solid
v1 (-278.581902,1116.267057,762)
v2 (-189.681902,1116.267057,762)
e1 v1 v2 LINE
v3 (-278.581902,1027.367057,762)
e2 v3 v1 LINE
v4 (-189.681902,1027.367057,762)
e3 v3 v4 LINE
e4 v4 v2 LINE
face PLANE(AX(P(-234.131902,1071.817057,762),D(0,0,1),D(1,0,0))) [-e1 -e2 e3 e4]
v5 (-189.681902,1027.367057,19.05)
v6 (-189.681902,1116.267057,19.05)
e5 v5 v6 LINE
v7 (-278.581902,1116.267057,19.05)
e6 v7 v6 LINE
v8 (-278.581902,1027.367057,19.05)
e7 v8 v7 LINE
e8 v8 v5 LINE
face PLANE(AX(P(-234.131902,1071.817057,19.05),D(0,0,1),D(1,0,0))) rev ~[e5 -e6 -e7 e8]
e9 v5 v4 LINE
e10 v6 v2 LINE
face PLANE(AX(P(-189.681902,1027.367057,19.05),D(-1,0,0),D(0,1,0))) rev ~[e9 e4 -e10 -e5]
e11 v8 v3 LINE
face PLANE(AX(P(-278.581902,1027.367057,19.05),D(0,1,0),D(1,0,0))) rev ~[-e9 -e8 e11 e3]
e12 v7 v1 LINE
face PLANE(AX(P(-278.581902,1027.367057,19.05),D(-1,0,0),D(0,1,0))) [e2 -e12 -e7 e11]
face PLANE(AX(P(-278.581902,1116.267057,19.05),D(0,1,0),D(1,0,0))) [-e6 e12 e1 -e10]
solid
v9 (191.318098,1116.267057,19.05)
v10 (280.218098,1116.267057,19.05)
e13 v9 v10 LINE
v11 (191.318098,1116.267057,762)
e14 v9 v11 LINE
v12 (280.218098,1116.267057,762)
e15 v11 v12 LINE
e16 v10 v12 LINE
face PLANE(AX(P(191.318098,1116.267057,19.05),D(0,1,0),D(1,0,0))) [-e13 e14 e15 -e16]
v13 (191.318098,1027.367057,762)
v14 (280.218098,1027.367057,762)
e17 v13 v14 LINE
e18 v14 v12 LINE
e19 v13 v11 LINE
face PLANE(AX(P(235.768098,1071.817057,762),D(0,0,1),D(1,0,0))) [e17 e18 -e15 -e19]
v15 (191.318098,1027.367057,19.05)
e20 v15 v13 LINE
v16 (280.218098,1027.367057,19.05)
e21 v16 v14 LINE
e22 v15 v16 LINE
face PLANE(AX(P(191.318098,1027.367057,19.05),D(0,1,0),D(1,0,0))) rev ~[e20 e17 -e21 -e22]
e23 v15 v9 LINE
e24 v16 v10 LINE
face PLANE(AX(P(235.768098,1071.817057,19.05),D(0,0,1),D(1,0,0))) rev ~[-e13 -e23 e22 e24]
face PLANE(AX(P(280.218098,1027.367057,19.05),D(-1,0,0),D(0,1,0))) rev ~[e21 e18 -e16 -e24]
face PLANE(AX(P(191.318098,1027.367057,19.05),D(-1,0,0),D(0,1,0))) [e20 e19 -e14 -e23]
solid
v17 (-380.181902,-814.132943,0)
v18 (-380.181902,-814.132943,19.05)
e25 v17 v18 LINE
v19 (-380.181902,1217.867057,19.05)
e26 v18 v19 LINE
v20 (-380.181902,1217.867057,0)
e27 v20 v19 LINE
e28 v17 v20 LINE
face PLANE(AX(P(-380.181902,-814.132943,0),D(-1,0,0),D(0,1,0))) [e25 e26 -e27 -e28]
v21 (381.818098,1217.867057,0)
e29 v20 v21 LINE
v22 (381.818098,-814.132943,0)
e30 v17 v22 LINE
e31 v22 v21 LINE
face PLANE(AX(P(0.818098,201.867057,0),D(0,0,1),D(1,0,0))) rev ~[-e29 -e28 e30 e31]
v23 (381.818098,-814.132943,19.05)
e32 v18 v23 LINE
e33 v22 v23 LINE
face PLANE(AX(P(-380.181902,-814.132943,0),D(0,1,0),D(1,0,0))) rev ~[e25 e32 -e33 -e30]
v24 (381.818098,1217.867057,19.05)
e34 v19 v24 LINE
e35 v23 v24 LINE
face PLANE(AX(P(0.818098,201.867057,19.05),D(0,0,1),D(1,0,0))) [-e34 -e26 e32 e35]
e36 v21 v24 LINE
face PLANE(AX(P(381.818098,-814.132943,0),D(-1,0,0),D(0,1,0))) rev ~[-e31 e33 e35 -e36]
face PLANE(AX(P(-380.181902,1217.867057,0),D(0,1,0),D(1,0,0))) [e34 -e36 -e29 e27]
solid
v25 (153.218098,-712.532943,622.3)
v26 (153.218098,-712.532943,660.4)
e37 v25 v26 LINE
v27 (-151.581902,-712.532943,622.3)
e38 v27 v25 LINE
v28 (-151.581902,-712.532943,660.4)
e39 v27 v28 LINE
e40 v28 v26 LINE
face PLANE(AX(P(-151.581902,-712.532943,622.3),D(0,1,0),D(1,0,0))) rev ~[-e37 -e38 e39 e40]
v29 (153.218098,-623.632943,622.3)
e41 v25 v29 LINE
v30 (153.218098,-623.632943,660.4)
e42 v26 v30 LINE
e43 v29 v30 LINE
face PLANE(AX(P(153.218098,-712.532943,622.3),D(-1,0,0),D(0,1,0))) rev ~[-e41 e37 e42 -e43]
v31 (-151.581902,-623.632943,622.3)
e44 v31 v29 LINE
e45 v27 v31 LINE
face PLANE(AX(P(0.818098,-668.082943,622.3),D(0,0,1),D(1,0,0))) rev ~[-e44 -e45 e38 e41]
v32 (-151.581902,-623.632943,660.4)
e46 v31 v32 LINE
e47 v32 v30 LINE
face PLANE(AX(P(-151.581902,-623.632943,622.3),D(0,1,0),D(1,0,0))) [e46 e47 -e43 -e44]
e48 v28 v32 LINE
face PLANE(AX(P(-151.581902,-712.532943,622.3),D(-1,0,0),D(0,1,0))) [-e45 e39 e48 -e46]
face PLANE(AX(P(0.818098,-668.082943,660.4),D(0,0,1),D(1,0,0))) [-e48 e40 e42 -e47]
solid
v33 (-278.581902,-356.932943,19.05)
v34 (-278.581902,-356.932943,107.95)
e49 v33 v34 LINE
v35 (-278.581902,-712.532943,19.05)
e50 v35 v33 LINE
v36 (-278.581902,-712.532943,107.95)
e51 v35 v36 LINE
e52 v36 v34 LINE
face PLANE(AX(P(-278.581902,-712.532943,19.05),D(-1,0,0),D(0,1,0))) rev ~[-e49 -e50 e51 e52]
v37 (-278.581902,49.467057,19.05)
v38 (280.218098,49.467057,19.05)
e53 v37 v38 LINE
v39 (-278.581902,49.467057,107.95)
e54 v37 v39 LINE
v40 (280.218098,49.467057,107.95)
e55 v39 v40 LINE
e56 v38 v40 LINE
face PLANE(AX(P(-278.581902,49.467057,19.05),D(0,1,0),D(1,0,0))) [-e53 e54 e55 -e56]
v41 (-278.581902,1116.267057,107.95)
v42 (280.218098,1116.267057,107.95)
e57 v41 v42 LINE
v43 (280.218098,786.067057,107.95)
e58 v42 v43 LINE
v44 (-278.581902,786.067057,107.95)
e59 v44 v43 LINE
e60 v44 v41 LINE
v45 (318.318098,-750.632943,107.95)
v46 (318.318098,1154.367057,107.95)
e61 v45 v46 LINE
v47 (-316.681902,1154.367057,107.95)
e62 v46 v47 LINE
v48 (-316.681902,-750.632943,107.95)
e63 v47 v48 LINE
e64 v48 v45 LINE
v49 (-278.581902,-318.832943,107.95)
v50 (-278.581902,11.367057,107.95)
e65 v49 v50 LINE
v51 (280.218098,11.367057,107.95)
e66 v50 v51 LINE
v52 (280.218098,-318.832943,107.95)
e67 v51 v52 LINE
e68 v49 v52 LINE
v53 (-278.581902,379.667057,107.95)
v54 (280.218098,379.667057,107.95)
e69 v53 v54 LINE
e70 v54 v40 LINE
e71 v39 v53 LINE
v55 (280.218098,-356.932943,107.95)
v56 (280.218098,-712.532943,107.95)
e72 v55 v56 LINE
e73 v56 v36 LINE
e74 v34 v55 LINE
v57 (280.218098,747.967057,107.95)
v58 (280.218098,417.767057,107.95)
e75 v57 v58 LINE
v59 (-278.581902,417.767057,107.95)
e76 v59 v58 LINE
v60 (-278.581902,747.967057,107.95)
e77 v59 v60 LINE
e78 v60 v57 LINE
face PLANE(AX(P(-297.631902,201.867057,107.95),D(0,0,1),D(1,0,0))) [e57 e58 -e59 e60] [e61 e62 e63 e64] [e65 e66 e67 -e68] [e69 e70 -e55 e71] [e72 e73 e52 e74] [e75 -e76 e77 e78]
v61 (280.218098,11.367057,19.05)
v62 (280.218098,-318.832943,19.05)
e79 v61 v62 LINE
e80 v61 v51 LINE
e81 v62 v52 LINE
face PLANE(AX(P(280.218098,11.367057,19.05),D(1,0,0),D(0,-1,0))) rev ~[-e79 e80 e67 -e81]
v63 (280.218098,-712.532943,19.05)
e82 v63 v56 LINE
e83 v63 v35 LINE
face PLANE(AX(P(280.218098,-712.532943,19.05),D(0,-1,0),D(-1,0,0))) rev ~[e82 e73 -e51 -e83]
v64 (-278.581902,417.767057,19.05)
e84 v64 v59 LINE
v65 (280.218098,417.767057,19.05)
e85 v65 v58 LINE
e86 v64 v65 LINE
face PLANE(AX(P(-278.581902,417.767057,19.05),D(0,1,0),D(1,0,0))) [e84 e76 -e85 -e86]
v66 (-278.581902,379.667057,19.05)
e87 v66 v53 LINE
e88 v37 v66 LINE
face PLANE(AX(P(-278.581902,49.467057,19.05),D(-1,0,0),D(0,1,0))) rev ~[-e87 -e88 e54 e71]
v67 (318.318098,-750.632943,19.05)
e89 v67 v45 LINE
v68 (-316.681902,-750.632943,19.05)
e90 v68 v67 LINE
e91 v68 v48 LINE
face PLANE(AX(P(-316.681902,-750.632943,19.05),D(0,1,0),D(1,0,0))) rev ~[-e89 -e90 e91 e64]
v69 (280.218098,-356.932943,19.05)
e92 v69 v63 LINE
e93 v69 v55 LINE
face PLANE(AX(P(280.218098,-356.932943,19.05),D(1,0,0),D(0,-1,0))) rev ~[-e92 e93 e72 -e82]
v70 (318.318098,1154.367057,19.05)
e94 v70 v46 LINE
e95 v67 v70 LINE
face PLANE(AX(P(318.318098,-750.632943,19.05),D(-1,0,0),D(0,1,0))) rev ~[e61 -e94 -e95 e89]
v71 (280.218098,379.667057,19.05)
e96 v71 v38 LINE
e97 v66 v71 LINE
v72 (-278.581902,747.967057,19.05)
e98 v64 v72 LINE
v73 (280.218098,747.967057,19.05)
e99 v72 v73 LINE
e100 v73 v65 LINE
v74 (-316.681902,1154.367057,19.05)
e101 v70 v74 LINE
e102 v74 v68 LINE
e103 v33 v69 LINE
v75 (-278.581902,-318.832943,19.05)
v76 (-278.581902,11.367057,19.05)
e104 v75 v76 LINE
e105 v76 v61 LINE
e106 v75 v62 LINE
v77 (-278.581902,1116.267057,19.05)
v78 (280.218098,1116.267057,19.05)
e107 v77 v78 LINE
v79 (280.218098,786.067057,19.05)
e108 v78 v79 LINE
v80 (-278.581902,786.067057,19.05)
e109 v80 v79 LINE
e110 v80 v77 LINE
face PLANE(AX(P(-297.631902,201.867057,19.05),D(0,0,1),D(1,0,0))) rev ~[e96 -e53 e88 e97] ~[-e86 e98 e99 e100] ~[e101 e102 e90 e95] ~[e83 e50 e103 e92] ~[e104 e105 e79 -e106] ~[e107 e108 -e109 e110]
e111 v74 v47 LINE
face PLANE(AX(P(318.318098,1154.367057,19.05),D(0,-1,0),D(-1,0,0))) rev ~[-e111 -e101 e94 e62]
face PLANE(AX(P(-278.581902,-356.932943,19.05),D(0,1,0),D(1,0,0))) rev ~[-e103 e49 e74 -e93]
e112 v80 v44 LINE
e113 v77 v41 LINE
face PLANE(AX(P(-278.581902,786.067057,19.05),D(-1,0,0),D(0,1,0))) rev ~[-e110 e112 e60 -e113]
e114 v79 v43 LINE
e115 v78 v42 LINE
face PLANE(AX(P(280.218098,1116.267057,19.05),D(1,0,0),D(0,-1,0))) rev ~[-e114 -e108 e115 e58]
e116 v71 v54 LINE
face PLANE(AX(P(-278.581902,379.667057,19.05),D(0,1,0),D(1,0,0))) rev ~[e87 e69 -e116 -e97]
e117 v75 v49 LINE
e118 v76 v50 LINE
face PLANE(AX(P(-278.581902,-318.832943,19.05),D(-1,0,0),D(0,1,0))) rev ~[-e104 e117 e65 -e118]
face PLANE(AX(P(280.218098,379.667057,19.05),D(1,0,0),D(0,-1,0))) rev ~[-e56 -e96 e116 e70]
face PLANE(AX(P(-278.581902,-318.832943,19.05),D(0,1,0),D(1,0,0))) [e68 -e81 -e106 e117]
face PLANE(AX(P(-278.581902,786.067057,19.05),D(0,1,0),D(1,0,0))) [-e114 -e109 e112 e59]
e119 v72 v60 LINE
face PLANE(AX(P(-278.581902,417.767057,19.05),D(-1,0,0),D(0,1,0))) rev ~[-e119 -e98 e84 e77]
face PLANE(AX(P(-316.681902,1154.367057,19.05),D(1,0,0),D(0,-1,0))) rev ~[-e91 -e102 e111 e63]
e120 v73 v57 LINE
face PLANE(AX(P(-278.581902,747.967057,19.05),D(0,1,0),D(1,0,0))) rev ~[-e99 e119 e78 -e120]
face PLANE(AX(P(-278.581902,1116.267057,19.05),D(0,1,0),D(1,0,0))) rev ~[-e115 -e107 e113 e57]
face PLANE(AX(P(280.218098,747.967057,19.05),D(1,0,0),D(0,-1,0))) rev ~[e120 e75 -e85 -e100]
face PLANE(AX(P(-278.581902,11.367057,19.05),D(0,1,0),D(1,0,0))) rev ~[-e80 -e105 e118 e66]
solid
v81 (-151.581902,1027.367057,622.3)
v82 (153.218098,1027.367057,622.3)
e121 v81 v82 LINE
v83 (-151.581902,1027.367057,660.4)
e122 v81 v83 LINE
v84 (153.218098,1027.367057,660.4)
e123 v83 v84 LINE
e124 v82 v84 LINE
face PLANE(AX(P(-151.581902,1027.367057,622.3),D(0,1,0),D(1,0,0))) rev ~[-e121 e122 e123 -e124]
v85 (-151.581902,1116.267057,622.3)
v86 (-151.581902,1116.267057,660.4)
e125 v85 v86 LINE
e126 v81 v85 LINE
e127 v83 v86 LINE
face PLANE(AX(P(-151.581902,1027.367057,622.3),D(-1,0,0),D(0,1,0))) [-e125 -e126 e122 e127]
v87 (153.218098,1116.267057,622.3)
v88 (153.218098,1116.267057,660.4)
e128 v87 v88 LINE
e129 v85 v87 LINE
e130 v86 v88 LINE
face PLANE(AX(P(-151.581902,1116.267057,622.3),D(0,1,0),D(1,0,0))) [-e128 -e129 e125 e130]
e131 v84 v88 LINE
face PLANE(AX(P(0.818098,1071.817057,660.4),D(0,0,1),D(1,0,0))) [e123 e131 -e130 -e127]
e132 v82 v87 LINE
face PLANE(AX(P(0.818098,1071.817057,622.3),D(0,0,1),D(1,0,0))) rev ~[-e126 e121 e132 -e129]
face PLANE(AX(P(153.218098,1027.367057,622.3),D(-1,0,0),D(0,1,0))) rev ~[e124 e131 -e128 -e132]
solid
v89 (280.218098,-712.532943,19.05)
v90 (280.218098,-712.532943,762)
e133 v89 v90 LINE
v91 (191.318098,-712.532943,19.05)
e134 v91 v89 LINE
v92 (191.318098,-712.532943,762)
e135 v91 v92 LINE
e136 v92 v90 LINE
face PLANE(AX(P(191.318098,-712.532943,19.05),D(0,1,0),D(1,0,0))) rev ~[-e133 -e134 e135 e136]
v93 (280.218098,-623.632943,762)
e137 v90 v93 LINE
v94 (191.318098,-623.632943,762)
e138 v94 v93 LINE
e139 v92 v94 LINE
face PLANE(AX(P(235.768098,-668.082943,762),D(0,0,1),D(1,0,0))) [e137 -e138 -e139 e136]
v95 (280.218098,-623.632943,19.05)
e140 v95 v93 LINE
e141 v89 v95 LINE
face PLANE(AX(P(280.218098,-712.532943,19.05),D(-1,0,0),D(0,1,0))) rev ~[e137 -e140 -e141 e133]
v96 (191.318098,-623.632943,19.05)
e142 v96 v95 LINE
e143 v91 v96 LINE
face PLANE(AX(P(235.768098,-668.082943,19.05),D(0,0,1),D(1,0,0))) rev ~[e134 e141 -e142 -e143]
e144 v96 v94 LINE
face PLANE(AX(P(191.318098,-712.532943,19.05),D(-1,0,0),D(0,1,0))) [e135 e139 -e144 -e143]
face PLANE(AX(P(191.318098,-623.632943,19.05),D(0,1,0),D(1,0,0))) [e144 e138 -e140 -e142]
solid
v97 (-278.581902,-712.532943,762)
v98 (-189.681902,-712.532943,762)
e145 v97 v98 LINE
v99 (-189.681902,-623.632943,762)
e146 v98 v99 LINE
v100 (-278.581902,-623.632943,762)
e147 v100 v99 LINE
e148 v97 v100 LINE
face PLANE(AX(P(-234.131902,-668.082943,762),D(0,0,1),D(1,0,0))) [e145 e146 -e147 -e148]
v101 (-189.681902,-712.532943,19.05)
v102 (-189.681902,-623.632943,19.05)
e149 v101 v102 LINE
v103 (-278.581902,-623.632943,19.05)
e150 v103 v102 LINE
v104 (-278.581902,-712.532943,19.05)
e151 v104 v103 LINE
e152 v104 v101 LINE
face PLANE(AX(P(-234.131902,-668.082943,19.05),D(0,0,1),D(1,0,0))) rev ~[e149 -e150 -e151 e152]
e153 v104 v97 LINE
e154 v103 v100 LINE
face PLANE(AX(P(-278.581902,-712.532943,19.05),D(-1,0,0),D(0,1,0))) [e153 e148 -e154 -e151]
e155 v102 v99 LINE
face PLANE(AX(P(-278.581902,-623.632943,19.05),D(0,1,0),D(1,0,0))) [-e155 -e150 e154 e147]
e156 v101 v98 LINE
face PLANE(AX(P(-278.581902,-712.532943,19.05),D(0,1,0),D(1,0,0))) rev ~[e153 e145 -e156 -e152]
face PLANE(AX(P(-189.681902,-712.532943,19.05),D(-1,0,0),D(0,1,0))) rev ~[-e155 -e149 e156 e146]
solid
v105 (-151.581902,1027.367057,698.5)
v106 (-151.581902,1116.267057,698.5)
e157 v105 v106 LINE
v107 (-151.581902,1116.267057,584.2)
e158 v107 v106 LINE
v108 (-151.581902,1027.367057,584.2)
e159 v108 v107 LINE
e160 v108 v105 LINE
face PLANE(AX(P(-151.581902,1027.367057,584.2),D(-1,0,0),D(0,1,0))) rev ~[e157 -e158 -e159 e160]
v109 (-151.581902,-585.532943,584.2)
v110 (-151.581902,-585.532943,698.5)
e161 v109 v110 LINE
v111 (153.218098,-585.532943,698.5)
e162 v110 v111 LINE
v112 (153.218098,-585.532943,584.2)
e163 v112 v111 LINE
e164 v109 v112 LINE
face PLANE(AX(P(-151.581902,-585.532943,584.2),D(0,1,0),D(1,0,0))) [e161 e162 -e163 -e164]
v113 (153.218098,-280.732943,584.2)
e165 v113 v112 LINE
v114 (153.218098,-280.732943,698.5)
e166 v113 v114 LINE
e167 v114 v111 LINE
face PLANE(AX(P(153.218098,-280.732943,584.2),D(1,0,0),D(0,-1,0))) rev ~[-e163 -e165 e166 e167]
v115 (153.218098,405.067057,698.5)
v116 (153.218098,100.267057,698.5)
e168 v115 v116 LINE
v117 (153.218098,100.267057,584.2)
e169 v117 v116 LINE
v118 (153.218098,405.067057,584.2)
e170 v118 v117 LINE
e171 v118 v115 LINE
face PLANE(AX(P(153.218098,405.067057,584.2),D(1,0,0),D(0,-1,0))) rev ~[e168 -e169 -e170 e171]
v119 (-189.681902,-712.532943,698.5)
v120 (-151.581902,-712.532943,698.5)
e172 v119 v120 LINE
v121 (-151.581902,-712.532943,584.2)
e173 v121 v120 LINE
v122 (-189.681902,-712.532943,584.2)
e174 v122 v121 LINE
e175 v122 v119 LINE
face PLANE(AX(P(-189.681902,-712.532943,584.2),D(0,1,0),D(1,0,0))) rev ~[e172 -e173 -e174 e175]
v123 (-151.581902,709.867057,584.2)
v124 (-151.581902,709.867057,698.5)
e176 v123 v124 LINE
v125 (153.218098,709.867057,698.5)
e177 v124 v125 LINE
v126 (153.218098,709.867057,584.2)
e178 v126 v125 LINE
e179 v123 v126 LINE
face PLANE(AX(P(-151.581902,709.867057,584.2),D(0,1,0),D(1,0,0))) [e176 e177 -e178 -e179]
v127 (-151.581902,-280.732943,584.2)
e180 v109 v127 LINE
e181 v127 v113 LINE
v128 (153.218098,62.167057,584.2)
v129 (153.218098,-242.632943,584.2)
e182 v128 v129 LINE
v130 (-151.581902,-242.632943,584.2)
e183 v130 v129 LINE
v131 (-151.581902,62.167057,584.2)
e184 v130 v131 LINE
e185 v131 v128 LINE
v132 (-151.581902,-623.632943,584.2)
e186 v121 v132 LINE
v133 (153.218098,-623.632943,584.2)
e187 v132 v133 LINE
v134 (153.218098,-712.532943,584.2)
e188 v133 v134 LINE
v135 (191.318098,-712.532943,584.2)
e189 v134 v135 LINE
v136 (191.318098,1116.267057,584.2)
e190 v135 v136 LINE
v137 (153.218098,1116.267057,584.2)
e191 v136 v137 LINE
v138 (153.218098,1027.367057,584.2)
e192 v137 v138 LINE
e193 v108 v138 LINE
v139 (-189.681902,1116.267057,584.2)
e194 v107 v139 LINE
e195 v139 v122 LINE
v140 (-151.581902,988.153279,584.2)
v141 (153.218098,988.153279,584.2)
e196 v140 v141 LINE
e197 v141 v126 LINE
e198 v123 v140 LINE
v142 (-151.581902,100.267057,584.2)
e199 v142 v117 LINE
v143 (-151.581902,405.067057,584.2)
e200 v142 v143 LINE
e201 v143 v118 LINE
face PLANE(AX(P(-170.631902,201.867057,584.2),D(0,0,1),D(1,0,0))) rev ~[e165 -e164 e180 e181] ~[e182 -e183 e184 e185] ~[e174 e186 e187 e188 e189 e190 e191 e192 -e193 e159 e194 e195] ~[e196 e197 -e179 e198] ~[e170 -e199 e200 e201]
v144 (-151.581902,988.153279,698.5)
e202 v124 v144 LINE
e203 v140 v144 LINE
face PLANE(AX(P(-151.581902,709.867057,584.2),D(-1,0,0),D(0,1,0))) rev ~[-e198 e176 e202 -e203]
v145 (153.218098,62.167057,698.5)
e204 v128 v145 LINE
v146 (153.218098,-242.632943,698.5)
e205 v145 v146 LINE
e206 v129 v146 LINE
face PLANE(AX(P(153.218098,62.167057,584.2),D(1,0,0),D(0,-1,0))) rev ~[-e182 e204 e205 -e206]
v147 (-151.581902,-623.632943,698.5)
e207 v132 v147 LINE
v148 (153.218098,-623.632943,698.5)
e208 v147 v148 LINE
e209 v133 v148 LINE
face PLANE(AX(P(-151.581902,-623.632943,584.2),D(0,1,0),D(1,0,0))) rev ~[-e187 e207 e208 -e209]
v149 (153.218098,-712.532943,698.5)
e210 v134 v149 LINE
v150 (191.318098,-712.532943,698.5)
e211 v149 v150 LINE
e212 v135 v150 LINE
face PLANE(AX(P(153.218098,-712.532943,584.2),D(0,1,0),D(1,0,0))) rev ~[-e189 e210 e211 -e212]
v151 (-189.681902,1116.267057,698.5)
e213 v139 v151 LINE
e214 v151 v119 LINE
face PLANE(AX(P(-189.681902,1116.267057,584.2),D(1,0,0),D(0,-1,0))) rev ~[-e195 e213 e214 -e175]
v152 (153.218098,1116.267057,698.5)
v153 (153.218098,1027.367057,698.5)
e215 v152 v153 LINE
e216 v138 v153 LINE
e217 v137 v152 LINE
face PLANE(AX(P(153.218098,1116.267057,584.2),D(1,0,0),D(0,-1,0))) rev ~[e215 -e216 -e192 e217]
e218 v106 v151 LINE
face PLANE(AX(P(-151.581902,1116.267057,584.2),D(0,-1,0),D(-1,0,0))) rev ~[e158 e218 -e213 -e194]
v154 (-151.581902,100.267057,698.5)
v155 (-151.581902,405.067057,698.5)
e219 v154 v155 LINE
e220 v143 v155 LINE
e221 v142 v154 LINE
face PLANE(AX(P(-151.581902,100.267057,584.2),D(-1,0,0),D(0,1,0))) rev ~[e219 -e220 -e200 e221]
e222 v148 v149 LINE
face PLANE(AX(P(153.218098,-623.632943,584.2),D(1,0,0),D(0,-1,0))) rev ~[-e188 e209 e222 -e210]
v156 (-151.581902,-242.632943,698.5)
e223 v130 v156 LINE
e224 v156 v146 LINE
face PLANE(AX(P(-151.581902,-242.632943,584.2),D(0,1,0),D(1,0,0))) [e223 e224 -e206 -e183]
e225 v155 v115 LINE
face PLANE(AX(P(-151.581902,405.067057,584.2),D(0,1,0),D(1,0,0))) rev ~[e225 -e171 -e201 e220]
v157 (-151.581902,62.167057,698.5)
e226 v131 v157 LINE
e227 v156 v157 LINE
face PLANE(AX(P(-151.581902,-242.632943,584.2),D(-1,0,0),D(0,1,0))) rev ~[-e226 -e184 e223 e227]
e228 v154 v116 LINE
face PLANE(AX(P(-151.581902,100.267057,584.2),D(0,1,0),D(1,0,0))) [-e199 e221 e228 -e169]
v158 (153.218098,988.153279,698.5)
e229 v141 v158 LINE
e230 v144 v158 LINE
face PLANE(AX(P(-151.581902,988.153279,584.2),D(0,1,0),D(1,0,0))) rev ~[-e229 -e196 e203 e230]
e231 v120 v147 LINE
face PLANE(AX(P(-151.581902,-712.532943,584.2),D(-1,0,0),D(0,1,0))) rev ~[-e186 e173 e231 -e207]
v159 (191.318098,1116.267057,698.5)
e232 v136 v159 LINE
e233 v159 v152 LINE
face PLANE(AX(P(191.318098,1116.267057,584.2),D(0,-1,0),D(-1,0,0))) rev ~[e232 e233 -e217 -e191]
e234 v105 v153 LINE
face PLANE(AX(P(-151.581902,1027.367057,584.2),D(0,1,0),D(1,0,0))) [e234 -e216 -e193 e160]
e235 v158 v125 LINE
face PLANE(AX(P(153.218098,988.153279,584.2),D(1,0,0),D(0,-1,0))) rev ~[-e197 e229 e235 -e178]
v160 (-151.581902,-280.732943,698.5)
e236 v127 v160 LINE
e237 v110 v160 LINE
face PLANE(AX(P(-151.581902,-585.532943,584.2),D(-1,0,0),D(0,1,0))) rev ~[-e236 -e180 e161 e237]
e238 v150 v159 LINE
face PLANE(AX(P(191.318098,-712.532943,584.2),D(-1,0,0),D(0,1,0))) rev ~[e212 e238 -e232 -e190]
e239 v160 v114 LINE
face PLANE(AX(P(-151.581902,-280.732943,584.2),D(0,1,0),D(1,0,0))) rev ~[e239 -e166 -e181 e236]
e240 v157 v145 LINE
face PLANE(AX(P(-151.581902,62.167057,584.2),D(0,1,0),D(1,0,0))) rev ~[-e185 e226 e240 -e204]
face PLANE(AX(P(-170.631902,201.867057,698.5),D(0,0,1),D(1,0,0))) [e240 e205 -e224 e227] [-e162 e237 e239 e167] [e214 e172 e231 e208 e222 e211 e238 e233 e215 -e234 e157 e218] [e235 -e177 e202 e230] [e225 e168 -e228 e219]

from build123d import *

# Parameters (mm, degrees)
F3_START = 584.2
F2_W     = 304.8
F2_H     = 39.2137783545
F2_H_2   = 266.7
F2_H_3   = 38.1
F3_DEPTH = 114.3
F0_W     = 762
F0_H     = 2032
F4_DEPTH = 19.05
F5_START = 19.05
F1_W     = 558.8
F1_H     = 38.1
F5_DEPTH = 88.9
F6_START = 19.05
F1_W_2   = 88.9
F1_H_2   = 88.9
F6_DEPTH = 742.95
F7_START = 622.3
F2_H_4   = 88.9
F7_DEPTH = 38.1


with BuildPart() as f3:
    # F2 (on face) → F3 (new body)
    with BuildSketch(Plane.XY.offset(F3_START)):
        Polygon((-151.5819020361, 1116.2670571821), (-189.6819020361, 1116.2670571821), (-189.6819020361, -712.5329428179), (-151.5819020361, -712.5329428179), (-151.5819020361, -623.6329428179), (-151.5819020361, -585.5329428179), (-151.5819020361, -280.7329428179), (-151.5819020361, -242.6329428179), (-151.5819020361, 62.1670571821), (-151.5819020361, 100.2670571821), (-151.5819020361, 405.0670571821), (-151.5819020361, 443.1670571821), (-151.5819020361, 709.8670571821), (-151.5819020361, 747.9670571821), (-151.5819020361, 988.1532788277), (-151.5819020361, 1027.3670571821), align=None)
        with Locations((0.8180979639, 1007.7601680049)):
            Rectangle(F2_W, F2_H)
        Polygon((191.3180979639, 1116.2670571821), (153.2180979639, 1116.2670571821), (153.2180979639, 1027.3670571821), (153.2180979639, 988.1532788277), (153.2180979639, 747.9670571821), (153.2180979639, 709.8670571821), (153.2180979639, 443.1670571821), (153.2180979639, 405.0670571821), (153.2180979639, 100.2670571821), (153.2180979639, 62.1670571821), (153.2180979639, -242.6329428179), (153.2180979639, -280.7329428179), (153.2180979639, -585.5329428179), (153.2180979639, -623.6329428179), (153.2180979639, -712.5329428179), (191.3180979639, -712.5329428179), align=None)
        with Locations((0.8180979639, 576.5170571821)):
            Rectangle(F2_W, F2_H_2)
        with Locations((0.8180979639, 424.1170571821)):
            Rectangle(F2_W, F2_H_3)
        with Locations((0.8180979639, 81.2170571821)):
            Rectangle(F2_W, F2_H_3)
        with Locations((0.8180979639, -261.6829428179)):
            Rectangle(F2_W, F2_H_3)
        with Locations((0.8180979639, -604.5829428179)):
            Rectangle(F2_W, F2_H_3)
    extrude(amount=F3_DEPTH)


with BuildPart() as f4:
    # F0 (on Top) → F4 (new body)
    with BuildSketch(Plane.XY):
        with Locations((0.8180979639, 201.8670571821)):
            Rectangle(F0_W, F0_H)
    extrude(amount=F4_DEPTH)


with BuildPart() as f5:
    # F1 (on face) → F5 (new body)
    with BuildSketch(Plane.XY.offset(F5_START)):
        Polygon((-278.5819020361, -750.6329428179), (-278.5819020361, -712.5329428179), (-278.5819020361, -623.6329428179), (-278.5819020361, -356.9329428179), (-278.5819020361, -318.8329428179), (-278.5819020361, 11.3670571821), (-278.5819020361, 49.4670571821), (-278.5819020361, 379.6670571821), (-278.5819020361, 417.7670571821), (-278.5819020361, 747.9670571821), (-278.5819020361, 786.0670571821), (-278.5819020361, 1027.3670571821), (-278.5819020361, 1116.2670571821), (-278.5819020361, 1154.3670571821), (-316.6819020361, 1154.3670571821), (-316.6819020361, -750.6329428179), align=None)
        Polygon((-189.6819020361, -712.5329428179), (-278.5819020361, -712.5329428179), (-278.5819020361, -750.6329428179), (280.2180979639, -750.6329428179), (280.2180979639, -712.5329428179), (191.3180979639, -712.5329428179), align=None)
        Polygon((280.2180979639, -712.5329428179), (280.2180979639, -750.6329428179), (318.3180979639, -750.6329428179), (318.3180979639, 1154.3670571821), (280.2180979639, 1154.3670571821), (280.2180979639, 1116.2670571821), (280.2180979639, 1027.3670571821), (280.2180979639, 786.0670571821), (280.2180979639, 747.9670571821), (280.2180979639, 417.7670571821), (280.2180979639, 379.6670571821), (280.2180979639, 49.4670571821), (280.2180979639, 11.3670571821), (280.2180979639, -318.8329428179), (280.2180979639, -356.9329428179), (280.2180979639, -623.6329428179), align=None)
        with Locations((0.8180979639, -337.8829428179)):
            Rectangle(F1_W, F1_H)
        with Locations((0.8180979639, 30.4170571821)):
            Rectangle(F1_W, F1_H)
        with Locations((0.8180979639, 398.7170571821)):
            Rectangle(F1_W, F1_H)
        with Locations((0.8180979639, 767.0170571821)):
            Rectangle(F1_W, F1_H)
        Polygon((280.2180979639, 1154.3670571821), (-278.5819020361, 1154.3670571821), (-278.5819020361, 1116.2670571821), (-189.6819020361, 1116.2670571821), (191.3180979639, 1116.2670571821), (280.2180979639, 1116.2670571821), align=None)
    extrude(amount=F5_DEPTH)


with BuildPart() as f6:
    # F1 (on face) → F6 (new body)
    with BuildSketch(Plane.XY.offset(F6_START)):
        with Locations((-234.1319020361, -668.0829428179)):
            Rectangle(F1_W_2, F1_H_2)
    extrude(amount=F6_DEPTH)


with BuildPart() as f6b:
    # F1 (on face) → F6, piece 2 (new body)
    with BuildSketch(Plane.XY.offset(F6_START)):
        with Locations((235.7680979639, -668.0829428179)):
            Rectangle(F1_W_2, F1_H_2)
    extrude(amount=F6_DEPTH)


with BuildPart() as f6c:
    # F1 (on face) → F6, piece 3 (new body)
    with BuildSketch(Plane.XY.offset(F6_START)):
        with Locations((235.7680979639, 1071.8170571821)):
            Rectangle(F1_W_2, F1_H_2)
    extrude(amount=F6_DEPTH)


with BuildPart() as f6d:
    # F1 (on face) → F6, piece 4 (new body)
    with BuildSketch(Plane.XY.offset(F6_START)):
        with Locations((-234.1319020361, 1071.8170571821)):
            Rectangle(F1_W_2, F1_H_2)
    extrude(amount=F6_DEPTH)


with BuildPart() as f7:
    # F2 (on face) → F7 (new body)
    with BuildSketch(Plane.XY.offset(F7_START)):
        with Locations((0.8180979639, -668.0829428179)):
            Rectangle(F2_W, F2_H_4)
    extrude(amount=F7_DEPTH)


with BuildPart() as f7b:
    # F2 (on face) → F7, piece 2 (new body)
    with BuildSketch(Plane.XY.offset(F7_START)):
        with Locations((0.8180979639, 1071.8170571821)):
            Rectangle(F2_W, F2_H_4)
    extrude(amount=F7_DEPTH)


solid = Compound([f3.part, f4.part, f5.part, f6.part, f6b.part, f6c.part, f6d.part, f7.part, f7b.part])
